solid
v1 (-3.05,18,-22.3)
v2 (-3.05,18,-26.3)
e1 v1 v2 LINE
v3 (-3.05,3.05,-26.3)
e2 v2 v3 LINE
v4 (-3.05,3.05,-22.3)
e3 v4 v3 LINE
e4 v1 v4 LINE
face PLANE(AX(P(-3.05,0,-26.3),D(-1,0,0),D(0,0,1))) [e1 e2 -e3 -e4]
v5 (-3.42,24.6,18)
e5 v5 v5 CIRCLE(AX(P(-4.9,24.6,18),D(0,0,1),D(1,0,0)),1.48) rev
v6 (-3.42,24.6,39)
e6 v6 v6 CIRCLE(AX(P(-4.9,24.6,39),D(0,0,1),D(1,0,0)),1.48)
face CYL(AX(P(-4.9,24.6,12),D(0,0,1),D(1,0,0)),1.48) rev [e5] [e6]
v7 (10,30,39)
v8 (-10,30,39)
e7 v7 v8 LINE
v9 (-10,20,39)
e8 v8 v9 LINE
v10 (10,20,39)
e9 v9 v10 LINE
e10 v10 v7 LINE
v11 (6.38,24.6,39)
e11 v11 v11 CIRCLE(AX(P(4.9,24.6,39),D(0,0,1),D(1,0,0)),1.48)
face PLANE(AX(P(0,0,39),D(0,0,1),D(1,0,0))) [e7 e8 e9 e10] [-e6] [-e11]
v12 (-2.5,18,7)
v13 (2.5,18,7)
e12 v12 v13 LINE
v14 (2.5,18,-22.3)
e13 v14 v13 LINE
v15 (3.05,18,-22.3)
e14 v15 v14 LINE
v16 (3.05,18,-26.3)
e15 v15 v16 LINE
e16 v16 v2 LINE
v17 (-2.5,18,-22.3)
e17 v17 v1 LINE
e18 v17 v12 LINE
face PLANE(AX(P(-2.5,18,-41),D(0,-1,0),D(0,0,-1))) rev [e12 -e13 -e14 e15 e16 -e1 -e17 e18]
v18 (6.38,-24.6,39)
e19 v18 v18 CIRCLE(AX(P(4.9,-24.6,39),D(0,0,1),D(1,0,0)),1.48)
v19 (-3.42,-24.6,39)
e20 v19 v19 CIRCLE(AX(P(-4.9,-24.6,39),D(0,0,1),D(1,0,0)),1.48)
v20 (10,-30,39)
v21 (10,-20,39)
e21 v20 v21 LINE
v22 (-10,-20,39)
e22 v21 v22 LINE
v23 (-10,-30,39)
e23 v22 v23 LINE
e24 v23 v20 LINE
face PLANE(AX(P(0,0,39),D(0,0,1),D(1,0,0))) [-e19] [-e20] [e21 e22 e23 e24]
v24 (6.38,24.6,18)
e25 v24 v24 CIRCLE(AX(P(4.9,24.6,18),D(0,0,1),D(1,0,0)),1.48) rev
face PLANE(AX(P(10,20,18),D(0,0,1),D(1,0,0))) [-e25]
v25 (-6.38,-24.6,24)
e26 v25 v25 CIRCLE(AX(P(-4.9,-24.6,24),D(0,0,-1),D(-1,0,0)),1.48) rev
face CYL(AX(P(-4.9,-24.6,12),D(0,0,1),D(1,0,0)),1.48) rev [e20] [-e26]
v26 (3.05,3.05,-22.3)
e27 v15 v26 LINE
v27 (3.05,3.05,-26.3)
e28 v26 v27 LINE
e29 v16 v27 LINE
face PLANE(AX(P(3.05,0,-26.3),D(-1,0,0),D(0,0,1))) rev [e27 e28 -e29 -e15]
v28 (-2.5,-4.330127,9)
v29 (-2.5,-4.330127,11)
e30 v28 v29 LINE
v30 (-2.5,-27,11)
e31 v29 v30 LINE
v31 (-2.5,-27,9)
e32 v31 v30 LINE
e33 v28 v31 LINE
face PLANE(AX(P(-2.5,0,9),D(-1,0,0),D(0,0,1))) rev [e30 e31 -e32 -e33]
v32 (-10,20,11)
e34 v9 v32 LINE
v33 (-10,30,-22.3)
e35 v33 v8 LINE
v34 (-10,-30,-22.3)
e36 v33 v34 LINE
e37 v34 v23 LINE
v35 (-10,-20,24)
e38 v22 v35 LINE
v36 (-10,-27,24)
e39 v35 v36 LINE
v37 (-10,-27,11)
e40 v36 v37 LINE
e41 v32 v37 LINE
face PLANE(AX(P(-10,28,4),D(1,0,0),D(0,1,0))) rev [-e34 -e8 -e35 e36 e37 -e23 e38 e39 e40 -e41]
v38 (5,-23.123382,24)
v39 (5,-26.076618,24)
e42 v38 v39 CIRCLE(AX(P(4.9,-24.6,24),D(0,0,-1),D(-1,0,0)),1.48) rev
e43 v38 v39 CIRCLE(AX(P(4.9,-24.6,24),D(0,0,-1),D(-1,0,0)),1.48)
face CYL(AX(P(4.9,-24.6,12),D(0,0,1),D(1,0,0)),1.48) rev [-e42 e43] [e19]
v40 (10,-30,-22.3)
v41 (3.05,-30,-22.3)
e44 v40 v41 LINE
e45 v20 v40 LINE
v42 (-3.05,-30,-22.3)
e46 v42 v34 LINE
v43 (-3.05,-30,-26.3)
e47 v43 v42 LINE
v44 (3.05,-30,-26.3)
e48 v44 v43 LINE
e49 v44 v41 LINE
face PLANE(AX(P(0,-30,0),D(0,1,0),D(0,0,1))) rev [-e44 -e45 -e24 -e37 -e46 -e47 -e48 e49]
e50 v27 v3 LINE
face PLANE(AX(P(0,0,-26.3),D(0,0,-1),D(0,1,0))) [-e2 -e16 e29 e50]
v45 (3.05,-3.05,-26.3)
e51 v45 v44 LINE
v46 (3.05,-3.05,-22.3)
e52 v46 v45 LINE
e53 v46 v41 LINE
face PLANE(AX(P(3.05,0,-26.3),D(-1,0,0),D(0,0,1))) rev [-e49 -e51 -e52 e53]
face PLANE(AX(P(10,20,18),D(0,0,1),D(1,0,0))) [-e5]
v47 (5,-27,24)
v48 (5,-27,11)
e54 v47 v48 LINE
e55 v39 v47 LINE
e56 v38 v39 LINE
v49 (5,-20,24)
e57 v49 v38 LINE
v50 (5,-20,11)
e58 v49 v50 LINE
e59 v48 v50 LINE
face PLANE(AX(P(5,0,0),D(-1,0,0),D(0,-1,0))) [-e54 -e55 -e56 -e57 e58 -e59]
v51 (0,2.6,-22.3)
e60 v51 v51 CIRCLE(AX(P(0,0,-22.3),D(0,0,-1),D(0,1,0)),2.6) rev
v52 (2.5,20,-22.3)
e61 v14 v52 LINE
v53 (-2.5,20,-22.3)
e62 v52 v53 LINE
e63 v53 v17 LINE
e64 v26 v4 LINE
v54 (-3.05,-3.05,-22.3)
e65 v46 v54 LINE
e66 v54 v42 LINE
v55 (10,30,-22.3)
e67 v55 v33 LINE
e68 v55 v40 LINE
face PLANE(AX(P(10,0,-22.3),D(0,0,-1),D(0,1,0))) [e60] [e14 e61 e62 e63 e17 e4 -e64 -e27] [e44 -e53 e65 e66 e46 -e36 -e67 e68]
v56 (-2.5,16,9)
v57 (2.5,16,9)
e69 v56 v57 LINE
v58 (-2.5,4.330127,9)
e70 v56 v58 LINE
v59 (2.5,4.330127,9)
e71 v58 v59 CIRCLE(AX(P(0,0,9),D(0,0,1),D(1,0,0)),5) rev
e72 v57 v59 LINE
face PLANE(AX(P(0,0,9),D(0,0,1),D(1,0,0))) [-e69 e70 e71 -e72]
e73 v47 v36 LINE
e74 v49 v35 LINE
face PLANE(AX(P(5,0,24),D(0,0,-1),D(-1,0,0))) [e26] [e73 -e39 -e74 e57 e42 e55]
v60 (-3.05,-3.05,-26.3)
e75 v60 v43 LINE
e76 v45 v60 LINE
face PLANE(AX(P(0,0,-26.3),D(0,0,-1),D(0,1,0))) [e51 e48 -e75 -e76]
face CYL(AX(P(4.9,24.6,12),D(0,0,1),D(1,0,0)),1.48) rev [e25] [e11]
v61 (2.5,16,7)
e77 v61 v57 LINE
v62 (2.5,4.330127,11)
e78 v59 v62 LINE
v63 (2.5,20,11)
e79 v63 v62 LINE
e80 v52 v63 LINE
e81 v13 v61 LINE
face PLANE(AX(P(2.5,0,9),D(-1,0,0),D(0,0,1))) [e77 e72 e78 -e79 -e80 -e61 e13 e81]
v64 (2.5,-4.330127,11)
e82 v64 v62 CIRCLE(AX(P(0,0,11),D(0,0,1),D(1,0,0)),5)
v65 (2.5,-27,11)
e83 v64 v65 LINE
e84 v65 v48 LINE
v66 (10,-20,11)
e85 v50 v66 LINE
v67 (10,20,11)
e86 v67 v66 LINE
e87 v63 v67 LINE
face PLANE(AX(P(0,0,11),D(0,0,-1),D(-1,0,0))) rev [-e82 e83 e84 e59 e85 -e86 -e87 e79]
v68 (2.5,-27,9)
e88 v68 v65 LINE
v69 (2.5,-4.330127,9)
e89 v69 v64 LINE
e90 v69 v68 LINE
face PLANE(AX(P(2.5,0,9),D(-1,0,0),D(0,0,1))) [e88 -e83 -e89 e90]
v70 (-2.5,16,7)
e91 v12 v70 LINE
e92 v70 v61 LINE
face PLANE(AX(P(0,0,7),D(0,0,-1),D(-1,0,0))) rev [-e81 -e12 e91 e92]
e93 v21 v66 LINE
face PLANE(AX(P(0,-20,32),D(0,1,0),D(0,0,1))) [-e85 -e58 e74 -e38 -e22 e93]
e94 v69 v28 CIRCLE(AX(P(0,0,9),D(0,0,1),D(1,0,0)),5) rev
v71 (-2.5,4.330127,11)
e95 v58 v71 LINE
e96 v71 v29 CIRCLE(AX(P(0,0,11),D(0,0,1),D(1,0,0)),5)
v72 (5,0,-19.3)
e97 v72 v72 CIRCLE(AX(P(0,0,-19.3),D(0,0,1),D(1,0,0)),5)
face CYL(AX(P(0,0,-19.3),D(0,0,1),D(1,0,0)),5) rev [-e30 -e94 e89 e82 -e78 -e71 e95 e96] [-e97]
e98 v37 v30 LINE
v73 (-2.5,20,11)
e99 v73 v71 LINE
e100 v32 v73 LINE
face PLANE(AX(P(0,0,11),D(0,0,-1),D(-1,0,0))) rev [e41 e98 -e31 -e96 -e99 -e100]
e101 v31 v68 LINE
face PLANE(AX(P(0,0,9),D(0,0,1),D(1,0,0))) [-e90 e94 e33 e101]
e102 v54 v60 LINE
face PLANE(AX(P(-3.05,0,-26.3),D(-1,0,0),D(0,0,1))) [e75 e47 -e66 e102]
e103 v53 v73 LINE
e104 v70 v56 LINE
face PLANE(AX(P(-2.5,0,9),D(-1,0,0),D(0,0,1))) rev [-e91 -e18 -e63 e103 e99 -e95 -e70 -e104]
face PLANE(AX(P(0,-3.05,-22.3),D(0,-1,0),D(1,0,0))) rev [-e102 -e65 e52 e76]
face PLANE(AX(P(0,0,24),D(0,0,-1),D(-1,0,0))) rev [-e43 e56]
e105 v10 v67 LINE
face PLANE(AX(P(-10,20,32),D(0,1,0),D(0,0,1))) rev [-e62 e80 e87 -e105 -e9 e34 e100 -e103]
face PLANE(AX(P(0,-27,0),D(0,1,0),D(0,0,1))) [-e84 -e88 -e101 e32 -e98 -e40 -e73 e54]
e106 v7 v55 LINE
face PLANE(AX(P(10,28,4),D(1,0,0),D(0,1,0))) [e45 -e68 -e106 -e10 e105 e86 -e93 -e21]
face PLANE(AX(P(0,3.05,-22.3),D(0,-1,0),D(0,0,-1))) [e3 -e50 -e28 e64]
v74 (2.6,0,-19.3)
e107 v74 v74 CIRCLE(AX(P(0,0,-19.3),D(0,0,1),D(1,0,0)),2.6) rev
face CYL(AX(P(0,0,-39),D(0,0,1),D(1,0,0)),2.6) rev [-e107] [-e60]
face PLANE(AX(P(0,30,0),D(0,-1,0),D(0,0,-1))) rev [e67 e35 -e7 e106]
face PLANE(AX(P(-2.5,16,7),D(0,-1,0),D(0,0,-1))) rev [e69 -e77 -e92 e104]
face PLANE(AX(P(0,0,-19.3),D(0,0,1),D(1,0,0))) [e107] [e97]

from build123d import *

# Parameters (mm, degrees)
EXTRUDE_1_DEPTH      = 14
CUT_EXTRUDE_1_DEPTH  = 44
SKETCH_3_W           = 6.2
SKETCH_3_H           = 6.2
CUT_EXTRUDE_2_DEPTH  = 4
SKETCH_4_R           = 4
CUT_EXTRUDE_3_DEPTH  = 5
SKETCH_5_R           = 2.6
CUT_EXTRUDE_4_DEPTH  = 5
CUT_EXTRUDE_5_DEPTH  = 50
EXTRUDE_2_DEPTH      = 8
EXTRUDE_3_DEPTH      = 8
SKETCH_10_W          = 20
SKETCH_10_H          = 10
EXTRUDE_4_DEPTH      = 18
SKETCH_12_R          = 1.48
CUT_EXTRUDE_6_DEPTH  = 20
SKETCH_13_W          = 4
SKETCH_13_H          = 40
CUT_EXTRUDE_7_DEPTH  = 22
SKETCH_16_R          = 5
CUT_EXTRUDE_8_DEPTH  = 3
SKETCH_17_R          = 5
CUT_EXTRUDE_9_DEPTH  = 3
SKETCH_18_R          = 2.6
CUT_EXTRUDE_10_DEPTH = 99
SKETCH_19_R          = 5
EXTRUDE_5_DEPTH      = 6
SKETCH_20_W          = 6.2
SKETCH_20_H          = 6.2
CUT_EXTRUDE_11_DEPTH = 4
SKETCH_21_W          = 6.2
SKETCH_21_H          = 6.2
EXTRUDE_6_DEPTH      = 4
SKETCH_22_W          = 0.05
SKETCH_22_H          = 60
CUT_EXTRUDE_12_DEPTH = 4
EXTRUDE_START        = 6
SKETCH_25_W          = 20
SKETCH_25_H          = 10
SKETCH_25_R          = 1.48
EXTRUDE_7_DEPTH      = 6
CUT_EXTRUDE_13_DEPTH = 7
SKETCH_28_W          = 8
SKETCH_28_H          = 10
EXTRUDE_8_DEPTH      = 20
CUT_EXTRUDE_14_DEPTH = 7
SKETCH_30_W          = 6
SKETCH_30_H          = 2.9827115
SKETCH_30_H_2        = 3.265133333
EXTRUDE_9_DEPTH      = 7
SKETCH_31_W          = 6
SKETCH_31_H          = 2
EXTRUDE_10_DEPTH     = 10
SKETCH_32_W          = 6.1
SKETCH_32_H          = 3
CUT_EXTRUDE_15_DEPTH = 10
SKETCH_33_W          = 6.1
SKETCH_33_H          = 3
CUT_EXTRUDE_16_DEPTH = 4
SKETCH_34_W          = 10
SKETCH_34_H          = 5
CUT_EXTRUDE_17_DEPTH = 6
SKETCH_35_W          = 1
SKETCH_35_H          = 5
CUT_EXTRUDE_18_DEPTH = 14
SKETCH_36_W          = 6
SKETCH_36_H          = 5
EXTRUDE_11_DEPTH     = 6
SKETCH_37_W          = 8
SKETCH_37_H          = 1
CUT_EXTRUDE_19_DEPTH = 2
SKETCH_38_R          = 5
EXTRUDE_12_DEPTH     = 6
SKETCH_39_R          = 2.6
CUT_EXTRUDE_20_DEPTH = 10
SKETCH_40_R          = 5
CUT_EXTRUDE_21_DEPTH = 3
EXTRUDE_START_2      = 1
SKETCH_41_W          = 20
SKETCH_41_H          = 40
SKETCH_41_R          = 5
EXTRUDE_13_DEPTH     = 1
SKETCH_42_W          = 20
SKETCH_42_H          = 10
SKETCH_42_R          = 1.48
EXTRUDE_14_DEPTH     = 1
SKETCH_43_W          = 5
SKETCH_43_H          = 5
CUT_EXTRUDE_22_DEPTH = 15
EXTRUDE_15_DEPTH     = 2
SKETCH_45_W          = 6.1
SKETCH_45_H          = 18.1
EXTRUDE_16_DEPTH     = 10
CUT_EXTRUDE_START    = -4
CUT_EXTRUDE_23_DEPTH = 4
SKETCH_47_W          = 15
SKETCH_47_H          = 7.002427308
EXTRUDE_17_DEPTH     = 4
CUT_EXTRUDE_24_DEPTH = 1
SKETCH_49_W          = 2
SKETCH_49_H          = 1
CUT_EXTRUDE_27_DEPTH = 12.5
SKETCH_51_W          = 5
SKETCH_51_H          = 1
EXTRUDE_18_DEPTH     = 1
CUT_EXTRUDE_28_DEPTH = 5
EXTRUDE_19_DEPTH     = 7.5
SKETCH_54_W          = 6.95
SKETCH_54_H          = 2
CUT_EXTRUDE_29_DEPTH = 7.5
SKETCH_55_W          = 6.1
SKETCH_55_H          = 3
CUT_EXTRUDE_30_DEPTH = 4
SKETCH_56_W          = 0.55
SKETCH_56_H          = 0.142857143
EXTRUDE_20_DEPTH     = 4
SKETCH_60_W          = 26.3
SKETCH_60_H          = 60
EXTRUDE_21_DEPTH     = 20
EXTRUDE_22_DEPTH     = 4
SKETCH_62_R          = 2.6
CUT_EXTRUDE_31_DEPTH = 50
SKETCH_63_R          = 5
CUT_EXTRUDE_32_DEPTH = 30.3
CUT_EXTRUDE_33_DEPTH = 4
CUT_EXTRUDE_34_DEPTH = 2
SKETCH_66_W          = 5
SKETCH_66_H          = 2
CUT_EXTRUDE_35_DEPTH = 50
CUT_EXTRUDE_36_DEPTH = 4
SKETCH_68_W          = 5
SKETCH_68_H          = 2
CUT_EXTRUDE_37_DEPTH = 2


with BuildPart() as part:
    # 草图1 → 凸台-拉伸1 (new body)
    with BuildSketch(Plane.XY):
        Polygon((-15, 22), (-15, -22), (15, -22), (15, 22), (0, 22), align=None)
    extrude(amount=EXTRUDE_1_DEPTH)

    # 草图2 → 切除-拉伸1 (cut)
    with BuildSketch(Plane(origin=(0, 22, 0), x_dir=(1, 0, 0), z_dir=(0, 1, 0))):
        Polygon((-15, 0), (-15, -14), (-10, -4), (-3.1, -4), (-3.1, 0), align=None)
        Polygon((3.1, -4), (10, -4), (15, -14), (15, 0), (3.1, 0), align=None)
    extrude(amount=-CUT_EXTRUDE_1_DEPTH, mode=Mode.SUBTRACT)

    # 草图3 → 切除-拉伸2 (cut)
    with BuildSketch(Plane(origin=(0, 0, 0), x_dir=(-1, 0, 0), z_dir=(0, 0, -1))):
        Rectangle(SKETCH_3_W, SKETCH_3_H)
    extrude(amount=-CUT_EXTRUDE_2_DEPTH, mode=Mode.SUBTRACT)

    # 草图4 → 切除-拉伸3 (cut)
    with BuildSketch(Plane.XY.offset(14)):
        Circle(SKETCH_4_R)
    extrude(amount=-CUT_EXTRUDE_3_DEPTH, mode=Mode.SUBTRACT)

    # 草图5 → 切除-拉伸4 (cut)
    with BuildSketch(Plane.XY.offset(9)):
        Circle(SKETCH_5_R)
    extrude(amount=-CUT_EXTRUDE_4_DEPTH, mode=Mode.SUBTRACT)

    # 草图6 → 切除-拉伸5 (cut)
    with BuildSketch(Plane.XZ.offset(22)):
        Polygon((-10, 4), (-15, 14), (-10, 14), align=None)
        Polygon((10, 4), (10, 14), (15, 14), align=None)
    extrude(amount=-CUT_EXTRUDE_5_DEPTH, mode=Mode.SUBTRACT)

    # 草图8 → 凸台-拉伸2 (add)
    with BuildSketch(Plane(origin=(0, -22, 0), x_dir=(-1, 0, 0), z_dir=(0, -1, 0))):
        Polygon((10, -14), (-10, -14), (-10, -4), (-3.1, -4), (-3.1, 0), (3.1, 0), (3.1, -4), (10, -4), align=None)
    extrude(amount=EXTRUDE_2_DEPTH)

    # 草图9 → 凸台-拉伸3 (add)
    with BuildSketch(Plane(origin=(0, 22, 0), x_dir=(1, 0, 0), z_dir=(0, 1, 0))):
        Polygon((-3.1, -4), (-3.1, 0), (3.1, 0), (3.1, -4), (10, -4), (10, -14), (-10, -14), (-10, -4), align=None)
    extrude(amount=EXTRUDE_3_DEPTH)

    # 草图10 → 凸台-拉伸4 (add)
    with BuildSketch(Plane.XY.offset(14)):
        with Locations((0, 25)):
            Rectangle(SKETCH_10_W, SKETCH_10_H)
        with Locations((0, -25)):
            Rectangle(SKETCH_10_W, SKETCH_10_H)
    extrude(amount=EXTRUDE_4_DEPTH)

    # 草图12 → 切除-拉伸6 (cut)
    with BuildSketch(Plane.XY.offset(32)):
        with Locations((-4.9, -24.6)):
            Circle(SKETCH_12_R)
        with Locations((4.9, -24.6)):
            Circle(SKETCH_12_R)
        with Locations((-4.9, 24.6)):
            Circle(SKETCH_12_R)
        with Locations((4.9, 24.6)):
            Circle(SKETCH_12_R)
    extrude(amount=-CUT_EXTRUDE_6_DEPTH, mode=Mode.SUBTRACT)

    # 草图13 → 切除-拉伸7 (cut)
    with BuildSketch(Plane(origin=(10, 0, 0), x_dir=(0, 0, -1), z_dir=(1, 0, 0))):
        with Locations((-12, 0)):
            Rectangle(SKETCH_13_W, SKETCH_13_H)
    extrude(amount=-CUT_EXTRUDE_7_DEPTH, mode=Mode.SUBTRACT)

    # 草图16 → 切除-拉伸8 (cut)
    with BuildSketch(Plane.XY.offset(10)):
        Circle(SKETCH_16_R)
    extrude(amount=-CUT_EXTRUDE_8_DEPTH, mode=Mode.SUBTRACT)

    # 草图17 → 切除-拉伸9 (cut)
    with BuildSketch(Plane.XY.offset(10)):
        with Locations((0, 15)):
            Circle(SKETCH_17_R)
        with Locations((0, -15)):
            Circle(SKETCH_17_R)
    extrude(amount=-CUT_EXTRUDE_9_DEPTH, mode=Mode.SUBTRACT)

    # 草图18 → 切除-拉伸10 (cut)
    with BuildSketch(Plane.XY.offset(7)):
        with Locations((0, 15)):
            Circle(SKETCH_18_R)
        with Locations((0, -15)):
            Circle(SKETCH_18_R)
    extrude(amount=-CUT_EXTRUDE_10_DEPTH, mode=Mode.SUBTRACT)

    # 草图19 → 凸台-拉伸5 (add)
    with BuildSketch(Plane.XY.offset(10)):
        Circle(SKETCH_19_R)
    extrude(amount=-EXTRUDE_5_DEPTH)

    # 草图20 → 切除-拉伸11 (cut)
    with BuildSketch(Plane(origin=(0, 0, 0), x_dir=(-1, 0, 0), z_dir=(0, 0, -1))):
        Polygon((0, -11.9), (0, -15), (0, -18.1), (3.1, -18.1), (3.1, -11.9), align=None)
        Polygon((0, -18.1), (0, -15), (0, -11.9), (-3.1, -11.9), (-3.1, -18.1), align=None)
        with Locations((0, 15)):
            Rectangle(SKETCH_20_W, SKETCH_20_H)
    extrude(amount=-CUT_EXTRUDE_11_DEPTH, mode=Mode.SUBTRACT)

    # 草图21 → 凸台-拉伸6 (add)
    with BuildSketch(Plane(origin=(0, 0, 0), x_dir=(-1, 0, 0), z_dir=(0, 0, -1))):
        Rectangle(SKETCH_21_W, SKETCH_21_H)
    extrude(amount=-EXTRUDE_6_DEPTH)

    # 草图22 → 切除-拉伸12 (cut)
    with BuildSketch(Plane(origin=(0, 0, 0), x_dir=(-1, 0, 0), z_dir=(0, 0, -1))):
        with Locations((-3.075, 0)):
            Rectangle(SKETCH_22_W, SKETCH_22_H)
        with Locations((3.075, 0)):
            Rectangle(SKETCH_22_W, SKETCH_22_H)
    extrude(amount=-CUT_EXTRUDE_12_DEPTH, mode=Mode.SUBTRACT)

    # 草图25 → 凸台-拉伸7 (add)
    # profile 1 of 2: a face of its own
    with BuildSketch(Plane.XY.offset(32).offset(EXTRUDE_START)):
        with Locations((0, 25)):
            Rectangle(SKETCH_25_W, SKETCH_25_H)
        with Locations((-4.9, 24.6)):
            Circle(SKETCH_25_R, mode=Mode.SUBTRACT)
        with Locations((4.9, 24.6)):
            Circle(SKETCH_25_R, mode=Mode.SUBTRACT)
    # profile 2 of 2: a face of its own
    with BuildSketch(Plane.XY.offset(32).offset(EXTRUDE_START)):
        with Locations((0, -25)):
            Rectangle(SKETCH_25_W, SKETCH_25_H)
        with Locations((-4.9, -24.6)):
            Circle(SKETCH_25_R, mode=Mode.SUBTRACT)
        with Locations((4.9, -24.6)):
            Circle(SKETCH_25_R, mode=Mode.SUBTRACT)
    extrude(amount=-EXTRUDE_7_DEPTH)

    # 草图27 → 切除-拉伸13 (cut)
    with BuildSketch(Plane(origin=(0, -20, 0), x_dir=(1, 0, 0), z_dir=(0, 1, 0))):
        Polygon((4, -15), (4, -10), (0, -10), (-4, -10), (-4, -15), align=None)
    extrude(amount=-CUT_EXTRUDE_13_DEPTH, mode=Mode.SUBTRACT)

    # 草图28 → 凸台-拉伸8 (add)
    with BuildSketch(Plane.ZY.offset(10)):
        with Locations((14, -25)):
            Rectangle(SKETCH_28_W, SKETCH_28_H)
        with Locations((14, 25)):
            Rectangle(SKETCH_28_W, SKETCH_28_H)
    extrude(amount=-EXTRUDE_8_DEPTH)

    # 草图29 → 切除-拉伸14 (cut)
    with BuildSketch(Plane(origin=(0, -20, 0), x_dir=(1, 0, 0), z_dir=(0, 1, 0))):
        Polygon((4, -20), (4, -10), (0, -10), (-4, -10), (-4, -20), align=None)
    extrude(amount=-CUT_EXTRUDE_14_DEPTH, mode=Mode.SUBTRACT)

    # 草图30 → 凸台-拉伸9 (add)
    with BuildSketch(Plane(origin=(0, -20, 0), x_dir=(1, 0, 0), z_dir=(0, 1, 0))):
        with Locations((-7, -18.50864425)):
            Rectangle(SKETCH_30_W, SKETCH_30_H)
        with Locations((7, -18.367433334)):
            Rectangle(SKETCH_30_W, SKETCH_30_H_2)
    extrude(amount=-EXTRUDE_9_DEPTH)

    # 草图31 → 凸台-拉伸10 (add)
    with BuildSketch(Plane(origin=(0, -20, 0), x_dir=(1, 0, 0), z_dir=(0, 1, 0))):
        with Locations((7, -21)):
            Rectangle(SKETCH_31_W, SKETCH_31_H)
        Polygon((4, -22), (4, -20), (-4, -20), (-10, -20), (-10, -22), align=None)
    extrude(amount=-EXTRUDE_10_DEPTH)

    # 草图32 → 切除-拉伸15 (cut)
    with BuildSketch(Plane(origin=(0, 0, 0), x_dir=(-1, 0, 0), z_dir=(0, 0, -1))):
        with Locations((0, -25.5)):
            Rectangle(SKETCH_32_W, SKETCH_32_H)
    extrude(amount=-CUT_EXTRUDE_15_DEPTH, mode=Mode.SUBTRACT)

    # 草图33 → 切除-拉伸16 (cut)
    with BuildSketch(Plane(origin=(0, 0, 0), x_dir=(-1, 0, 0), z_dir=(0, 0, -1))):
        with Locations((0, -28.5)):
            Rectangle(SKETCH_33_W, SKETCH_33_H)
    extrude(amount=-CUT_EXTRUDE_16_DEPTH, mode=Mode.SUBTRACT)

    # 草图34 → 切除-拉伸17 (cut)
    with BuildSketch(Plane.ZY.offset(10)):
        with Locations((15, -22.5)):
            Rectangle(SKETCH_34_W, SKETCH_34_H)
    extrude(amount=-CUT_EXTRUDE_17_DEPTH, mode=Mode.SUBTRACT)

    # 草图35 → 切除-拉伸18 (cut)
    with BuildSketch(Plane.ZY.offset(10)):
        with Locations((20.5, -22.5)):
            Rectangle(SKETCH_35_W, SKETCH_35_H)
    extrude(amount=-CUT_EXTRUDE_18_DEPTH, mode=Mode.SUBTRACT)

    # 草图36 → 凸台-拉伸11 (add)
    with BuildSketch(Plane.ZY.offset(10)):
        with Locations((13, -22.5)):
            Rectangle(SKETCH_36_W, SKETCH_36_H)
    extrude(amount=-EXTRUDE_11_DEPTH)

    # 草图37 → 切除-拉伸19 (cut)
    with BuildSketch(Plane(origin=(0, -25, 0), x_dir=(1, 0, 0), z_dir=(0, 1, 0))):
        with Locations((0, -20.5)):
            Rectangle(SKETCH_37_W, SKETCH_37_H)
    extrude(amount=-CUT_EXTRUDE_19_DEPTH, mode=Mode.SUBTRACT)

    # 草图38 → 凸台-拉伸12 (add)
    with BuildSketch(Plane.XY.offset(10)):
        with Locations((0, 15)):
            Circle(SKETCH_38_R)
        with Locations((0, -15)):
            Circle(SKETCH_38_R)
    extrude(amount=-EXTRUDE_12_DEPTH)

    # 草图39 → 切除-拉伸20 (cut)
    with BuildSketch(Plane.XY.offset(10)):
        Circle(SKETCH_39_R)
    extrude(amount=-CUT_EXTRUDE_20_DEPTH, mode=Mode.SUBTRACT)

    # 草图40 → 切除-拉伸21 (cut)
    with BuildSketch(Plane.XY.offset(10)):
        Circle(SKETCH_40_R)
    extrude(amount=-CUT_EXTRUDE_21_DEPTH, mode=Mode.SUBTRACT)

    # 草图41 → 凸台-拉伸13 (add)
    with BuildSketch(Plane.XY.offset(10).offset(EXTRUDE_START_2)):
        Rectangle(SKETCH_41_W, SKETCH_41_H)
        Circle(SKETCH_41_R, mode=Mode.SUBTRACT)
    extrude(amount=-EXTRUDE_13_DEPTH)

    # 草图42 → 凸台-拉伸14 (add)
    # profile 1 of 2: a face of its own
    with BuildSketch(Plane.XY.offset(38).offset(EXTRUDE_START_2)):
        with Locations((0, 25)):
            Rectangle(SKETCH_42_W, SKETCH_42_H)
        with Locations((-4.9, 24.6)):
            Circle(SKETCH_42_R, mode=Mode.SUBTRACT)
        with Locations((4.9, 24.6)):
            Circle(SKETCH_42_R, mode=Mode.SUBTRACT)
    # profile 2 of 2: a face of its own
    with BuildSketch(Plane.XY.offset(38).offset(EXTRUDE_START_2)):
        with Locations((0, -25)):
            Rectangle(SKETCH_42_W, SKETCH_42_H)
        with Locations((-4.9, -24.6)):
            Circle(SKETCH_42_R, mode=Mode.SUBTRACT)
        with Locations((4.9, -24.6)):
            Circle(SKETCH_42_R, mode=Mode.SUBTRACT)
    extrude(amount=-EXTRUDE_14_DEPTH)

    # 草图43 → 切除-拉伸22 (cut)
    with BuildSketch(Plane.ZY.offset(10)):
        Polygon((24, -27), (24, -20), (21, -20), (21, -25), (16, -25), (16, -20), (11, -20), (10.997708979, -20), (10.997708979, -27), align=None)
        with Locations((18.5, -22.5)):
            Rectangle(SKETCH_43_W, SKETCH_43_H)
    extrude(amount=-CUT_EXTRUDE_22_DEPTH, mode=Mode.SUBTRACT)

    # 草图44 → 凸台-拉伸15 (add)
    with BuildSketch(Plane(origin=(0, 0, 24), x_dir=(-1, 0, 0), z_dir=(0, 0, -1))):
        with BuildLine():
            Line((-5, -26.076617757), (-5, -23.123382243))
            ThreePointArc((-5, -23.123382243), (-6.38, -24.6), (-5, -26.076617757))
        make_face()
    extrude(amount=EXTRUDE_15_DEPTH)

    # 草图45 → 凸台-拉伸16 (add)
    with BuildSketch(Plane(origin=(0, 0, 0), x_dir=(-1, 0, 0), z_dir=(0, 0, -1))):
        with Locations((0, -20.95)):
            Rectangle(SKETCH_45_W, SKETCH_45_H)
        with Locations((0, 20.95)):
            Rectangle(SKETCH_45_W, SKETCH_45_H)
    extrude(amount=-EXTRUDE_16_DEPTH)

    # 草图46 → 切除-拉伸23 (cut)
    with BuildSketch(Plane(origin=(0, 0, 0), x_dir=(-1, 0, 0), z_dir=(0, 0, -1)).offset(CUT_EXTRUDE_START)):
        with BuildLine():
            Line((0, -2.6), (0, 0))
            Line((0, 0), (0, 2.6))
            ThreePointArc((0, 2.6), (-2.6, 0), (0, -2.6))
        make_face()
        with BuildLine():
            Line((0, 2.6), (0, 0))
            Line((0, 0), (0, -2.6))
            ThreePointArc((0, -2.6), (1.838477631, -1.838477631), (2.6, 0))
            ThreePointArc((2.6, 0), (1.838477631, 1.838477631), (0, 2.6))
        make_face()
        with BuildLine():
            ThreePointArc((0, -2.6), (-2.6, 0), (0, 2.6))
            Line((0, 2.6), (0, 3.05))
            Line((0, 3.05), (-3.05, 3.05))
            Line((-3.05, 3.05), (-3.05, -3.05))
            Line((-3.05, -3.05), (0, -3.05))
            Line((0, -3.05), (0, -2.6))
        make_face()
        with BuildLine():
            Line((0, 3.05), (0, 2.6))
            ThreePointArc((0, 2.6), (1.838477631, 1.838477631), (2.6, 0))
            ThreePointArc((2.6, 0), (1.838477631, -1.838477631), (0, -2.6))
            Line((0, -2.6), (0, -3.05))
            Line((0, -3.05), (3.05, -3.05))
            Line((3.05, -3.05), (3.05, 3.05))
            Line((3.05, 3.05), (0, 3.05))
        make_face()
    extrude(amount=CUT_EXTRUDE_23_DEPTH, mode=Mode.SUBTRACT)

    # 草图47 → 凸台-拉伸17 (add)
    with BuildSketch(Plane.XY.offset(11)):
        with Locations((-2.5, -23.501213654)):
            Rectangle(SKETCH_47_W, SKETCH_47_H)
    extrude(amount=-EXTRUDE_17_DEPTH)

    # 草图48 → 切除-拉伸24 (cut)
    with BuildSketch(Plane.XY.offset(11)):
        with BuildLine():
            Line((-2.5, 20), (-2.5, 4.330127019))
            ThreePointArc((-2.5, 4.330127019), (0, 5), (2.5, 4.330127019))
            Line((2.5, 4.330127019), (2.5, 20))
            Line((2.5, 20), (-2.5, 20))
        make_face()
        with BuildLine():
            Line((-2.5, -27), (0, -27))
            Line((0, -27), (2.5, -27))
            Line((2.5, -27), (2.5, -4.330127019))
            ThreePointArc((2.5, -4.330127019), (0, -5), (-2.5, -4.330127019))
            Line((-2.5, -4.330127019), (-2.5, -27))
        make_face()
    extrude(amount=-CUT_EXTRUDE_24_DEPTH, mode=Mode.SUBTRACT)

    # 草图49 → 切除-拉伸27 (cut)
    with BuildSketch(Plane.ZY.offset(10)):
        with Locations((10, 19.5)):
            Rectangle(SKETCH_49_W, SKETCH_49_H)
        Polygon((9, 20), (11, 20), (4, 30), (4, 27.142857143), align=None)
        Polygon((4, 27.142857143), (4, 30), (4, 31.546618197), (2, 31.546618197), (2, 30), align=None)
    extrude(amount=-CUT_EXTRUDE_27_DEPTH, mode=Mode.SUBTRACT)

    # 草图51 → 凸台-拉伸18 (add)
    with BuildSketch(Plane(origin=(0, 19, 0), x_dir=(1, 0, 0), z_dir=(0, 1, 0))):
        with Locations((0, -9.5)):
            Rectangle(SKETCH_51_W, SKETCH_51_H)
    extrude(amount=EXTRUDE_18_DEPTH)

    # 草图52 → 切除-拉伸28 (cut)
    with BuildSketch(Plane.ZY.offset(2.5)):
        Polygon((9, 20), (10, 19), (10, 20), align=None)
    extrude(amount=-CUT_EXTRUDE_28_DEPTH, mode=Mode.SUBTRACT)

    # 草图53 → 凸台-拉伸19 (add)
    with BuildSketch(Plane.ZY.offset(10)):
        Polygon((11, 20), (4, 30), (2, 30), (9, 20), (9, 19), (11, 19), align=None)
    extrude(amount=-EXTRUDE_19_DEPTH)

    # 草图54 → 切除-拉伸29 (cut)
    with BuildSketch(Plane(origin=(0, 30, 0), x_dir=(1, 0, 0), z_dir=(0, 1, 0))):
        with Locations((-6.525, -3)):
            Rectangle(SKETCH_54_W, SKETCH_54_H)
    extrude(amount=-CUT_EXTRUDE_29_DEPTH, mode=Mode.SUBTRACT)

    # 草图55 → 切除-拉伸30 (cut)
    with BuildSketch(Plane(origin=(0, 0, 0), x_dir=(-1, 0, 0), z_dir=(0, 0, -1))):
        with Locations((0, 28.5)):
            Rectangle(SKETCH_55_W, SKETCH_55_H)
    extrude(amount=-CUT_EXTRUDE_30_DEPTH, mode=Mode.SUBTRACT)

    # 草图56 → 凸台-拉伸20 (add)
    with BuildSketch(Plane(origin=(0, 0, 4), x_dir=(-1, 0, 0), z_dir=(0, 0, -1))):
        with Locations((-2.775, 27.071428572)):
            Rectangle(SKETCH_56_W, SKETCH_56_H)
        Polygon((2.5, 27.142857143), (-2.5, 27.142857143), (-2.5, 27), (3.05, 27), (3.05, 27.142857143), align=None)
    extrude(amount=EXTRUDE_20_DEPTH)

    # 草图60 → 凸台-拉伸21 (add)
    with BuildSketch(Plane.ZY.offset(10)):
        with Locations((-9.15, 0)):
            Rectangle(SKETCH_60_W, SKETCH_60_H)
        Polygon((11, -27), (11, 20), (11, 30), (4, 30), (4, -30), (11, -30), align=None)
    extrude(amount=-EXTRUDE_21_DEPTH)

    # 草图61 → 凸台-拉伸22 (add)
    with BuildSketch(Plane(origin=(0, 0, -22.3), x_dir=(-1, 0, 0), z_dir=(0, 0, -1))):
        Polygon((0, -30), (0, 0), (0, 30), (-3.05, 30), (-3.05, -30), align=None)
        Polygon((0, 30), (0, 0), (0, -30), (3.05, -30), (3.05, 30), align=None)
    extrude(amount=EXTRUDE_22_DEPTH)

    # 草图62 → 切除-拉伸31 (cut)
    with BuildSketch(Plane.XY.offset(11)):
        Circle(SKETCH_62_R)
    extrude(amount=-CUT_EXTRUDE_31_DEPTH, mode=Mode.SUBTRACT)

    # 草图63 → 切除-拉伸32 (cut)
    with BuildSketch(Plane.XY.offset(11)):
        Circle(SKETCH_63_R)
    extrude(amount=-CUT_EXTRUDE_32_DEPTH, mode=Mode.SUBTRACT)

    # 草图64 → 切除-拉伸33 (cut)
    with BuildSketch(Plane(origin=(0, 0, -26.3), x_dir=(-1, 0, 0), z_dir=(0, 0, -1)).offset(CUT_EXTRUDE_START)):
        with BuildLine():
            Line((0, 3.05), (0, 2.6))
            ThreePointArc((0, 2.6), (1.838477631, 1.838477631), (2.6, 0))
            ThreePointArc((2.6, 0), (1.838477631, -1.838477631), (0, -2.6))
            Line((0, -2.6), (0, -3.05))
            Line((0, -3.05), (3.05, -3.05))
            Line((3.05, -3.05), (3.05, 3.05))
            Line((3.05, 3.05), (0, 3.05))
        make_face()
        with BuildLine():
            ThreePointArc((0, -2.6), (-2.6, 0), (0, 2.6))
            Line((0, 2.6), (0, 3.05))
            Line((0, 3.05), (-3.05, 3.05))
            Line((-3.05, 3.05), (-3.05, -3.05))
            Line((-3.05, -3.05), (0, -3.05))
            Line((0, -3.05), (0, -2.6))
        make_face()
    extrude(amount=CUT_EXTRUDE_33_DEPTH, mode=Mode.SUBTRACT)

    # 草图65 → 切除-拉伸34 (cut)
    with BuildSketch(Plane.XY.offset(11)):
        with BuildLine():
            Line((0, 20), (0, 5))
            ThreePointArc((0, 5), (1.294095226, 4.829629131), (2.5, 4.330127019))
            Line((2.5, 4.330127019), (2.5, 20))
            Line((2.5, 20), (0, 20))
        make_face()
        with BuildLine():
            ThreePointArc((-2.5, 4.330127019), (-1.294095226, 4.829629131), (0, 5))
            Line((0, 5), (0, 20))
            Line((0, 20), (-2.5, 20))
            Line((-2.5, 20), (-2.5, 4.330127019))
        make_face()
        with BuildLine():
            ThreePointArc((2.5, -4.330127019), (1.294095226, -4.829629131), (0, -5))
            Line((0, -5), (0, -27))
            Line((0, -27), (2.5, -27))
            Line((2.5, -27), (2.5, -4.330127019))
        make_face()
        with BuildLine():
            Line((0, -27), (0, -5))
            ThreePointArc((0, -5), (-1.294095226, -4.829629131), (-2.5, -4.330127019))
            Line((-2.5, -4.330127019), (-2.5, -27))
            Line((-2.5, -27), (0, -27))
        make_face()
    extrude(amount=-CUT_EXTRUDE_34_DEPTH, mode=Mode.SUBTRACT)

    # 草图66 → 切除-拉伸35 (cut)
    with BuildSketch(Plane.XY.offset(9)):
        with Locations((0, 19)):
            Rectangle(SKETCH_66_W, SKETCH_66_H)
    extrude(amount=-CUT_EXTRUDE_35_DEPTH, mode=Mode.SUBTRACT)

    # 草图67 → 切除-拉伸36 (cut)
    with BuildSketch(Plane(origin=(0, 0, -26.3), x_dir=(-1, 0, 0), z_dir=(0, 0, -1))):
        Polygon((2.5, 20), (2.5, 18), (3.05, 18), (3.05, 30), (-3.05, 30), (-3.05, 18), (-2.5, 18), (-2.5, 20), align=None)
    extrude(amount=-CUT_EXTRUDE_36_DEPTH, mode=Mode.SUBTRACT)

    # 草图68 → 切除-拉伸37 (cut)
    with BuildSketch(Plane.XY.offset(9)):
        with Locations((0, 17)):
            Rectangle(SKETCH_68_W, SKETCH_68_H)
    extrude(amount=-CUT_EXTRUDE_37_DEPTH, mode=Mode.SUBTRACT)


solid = part.part
